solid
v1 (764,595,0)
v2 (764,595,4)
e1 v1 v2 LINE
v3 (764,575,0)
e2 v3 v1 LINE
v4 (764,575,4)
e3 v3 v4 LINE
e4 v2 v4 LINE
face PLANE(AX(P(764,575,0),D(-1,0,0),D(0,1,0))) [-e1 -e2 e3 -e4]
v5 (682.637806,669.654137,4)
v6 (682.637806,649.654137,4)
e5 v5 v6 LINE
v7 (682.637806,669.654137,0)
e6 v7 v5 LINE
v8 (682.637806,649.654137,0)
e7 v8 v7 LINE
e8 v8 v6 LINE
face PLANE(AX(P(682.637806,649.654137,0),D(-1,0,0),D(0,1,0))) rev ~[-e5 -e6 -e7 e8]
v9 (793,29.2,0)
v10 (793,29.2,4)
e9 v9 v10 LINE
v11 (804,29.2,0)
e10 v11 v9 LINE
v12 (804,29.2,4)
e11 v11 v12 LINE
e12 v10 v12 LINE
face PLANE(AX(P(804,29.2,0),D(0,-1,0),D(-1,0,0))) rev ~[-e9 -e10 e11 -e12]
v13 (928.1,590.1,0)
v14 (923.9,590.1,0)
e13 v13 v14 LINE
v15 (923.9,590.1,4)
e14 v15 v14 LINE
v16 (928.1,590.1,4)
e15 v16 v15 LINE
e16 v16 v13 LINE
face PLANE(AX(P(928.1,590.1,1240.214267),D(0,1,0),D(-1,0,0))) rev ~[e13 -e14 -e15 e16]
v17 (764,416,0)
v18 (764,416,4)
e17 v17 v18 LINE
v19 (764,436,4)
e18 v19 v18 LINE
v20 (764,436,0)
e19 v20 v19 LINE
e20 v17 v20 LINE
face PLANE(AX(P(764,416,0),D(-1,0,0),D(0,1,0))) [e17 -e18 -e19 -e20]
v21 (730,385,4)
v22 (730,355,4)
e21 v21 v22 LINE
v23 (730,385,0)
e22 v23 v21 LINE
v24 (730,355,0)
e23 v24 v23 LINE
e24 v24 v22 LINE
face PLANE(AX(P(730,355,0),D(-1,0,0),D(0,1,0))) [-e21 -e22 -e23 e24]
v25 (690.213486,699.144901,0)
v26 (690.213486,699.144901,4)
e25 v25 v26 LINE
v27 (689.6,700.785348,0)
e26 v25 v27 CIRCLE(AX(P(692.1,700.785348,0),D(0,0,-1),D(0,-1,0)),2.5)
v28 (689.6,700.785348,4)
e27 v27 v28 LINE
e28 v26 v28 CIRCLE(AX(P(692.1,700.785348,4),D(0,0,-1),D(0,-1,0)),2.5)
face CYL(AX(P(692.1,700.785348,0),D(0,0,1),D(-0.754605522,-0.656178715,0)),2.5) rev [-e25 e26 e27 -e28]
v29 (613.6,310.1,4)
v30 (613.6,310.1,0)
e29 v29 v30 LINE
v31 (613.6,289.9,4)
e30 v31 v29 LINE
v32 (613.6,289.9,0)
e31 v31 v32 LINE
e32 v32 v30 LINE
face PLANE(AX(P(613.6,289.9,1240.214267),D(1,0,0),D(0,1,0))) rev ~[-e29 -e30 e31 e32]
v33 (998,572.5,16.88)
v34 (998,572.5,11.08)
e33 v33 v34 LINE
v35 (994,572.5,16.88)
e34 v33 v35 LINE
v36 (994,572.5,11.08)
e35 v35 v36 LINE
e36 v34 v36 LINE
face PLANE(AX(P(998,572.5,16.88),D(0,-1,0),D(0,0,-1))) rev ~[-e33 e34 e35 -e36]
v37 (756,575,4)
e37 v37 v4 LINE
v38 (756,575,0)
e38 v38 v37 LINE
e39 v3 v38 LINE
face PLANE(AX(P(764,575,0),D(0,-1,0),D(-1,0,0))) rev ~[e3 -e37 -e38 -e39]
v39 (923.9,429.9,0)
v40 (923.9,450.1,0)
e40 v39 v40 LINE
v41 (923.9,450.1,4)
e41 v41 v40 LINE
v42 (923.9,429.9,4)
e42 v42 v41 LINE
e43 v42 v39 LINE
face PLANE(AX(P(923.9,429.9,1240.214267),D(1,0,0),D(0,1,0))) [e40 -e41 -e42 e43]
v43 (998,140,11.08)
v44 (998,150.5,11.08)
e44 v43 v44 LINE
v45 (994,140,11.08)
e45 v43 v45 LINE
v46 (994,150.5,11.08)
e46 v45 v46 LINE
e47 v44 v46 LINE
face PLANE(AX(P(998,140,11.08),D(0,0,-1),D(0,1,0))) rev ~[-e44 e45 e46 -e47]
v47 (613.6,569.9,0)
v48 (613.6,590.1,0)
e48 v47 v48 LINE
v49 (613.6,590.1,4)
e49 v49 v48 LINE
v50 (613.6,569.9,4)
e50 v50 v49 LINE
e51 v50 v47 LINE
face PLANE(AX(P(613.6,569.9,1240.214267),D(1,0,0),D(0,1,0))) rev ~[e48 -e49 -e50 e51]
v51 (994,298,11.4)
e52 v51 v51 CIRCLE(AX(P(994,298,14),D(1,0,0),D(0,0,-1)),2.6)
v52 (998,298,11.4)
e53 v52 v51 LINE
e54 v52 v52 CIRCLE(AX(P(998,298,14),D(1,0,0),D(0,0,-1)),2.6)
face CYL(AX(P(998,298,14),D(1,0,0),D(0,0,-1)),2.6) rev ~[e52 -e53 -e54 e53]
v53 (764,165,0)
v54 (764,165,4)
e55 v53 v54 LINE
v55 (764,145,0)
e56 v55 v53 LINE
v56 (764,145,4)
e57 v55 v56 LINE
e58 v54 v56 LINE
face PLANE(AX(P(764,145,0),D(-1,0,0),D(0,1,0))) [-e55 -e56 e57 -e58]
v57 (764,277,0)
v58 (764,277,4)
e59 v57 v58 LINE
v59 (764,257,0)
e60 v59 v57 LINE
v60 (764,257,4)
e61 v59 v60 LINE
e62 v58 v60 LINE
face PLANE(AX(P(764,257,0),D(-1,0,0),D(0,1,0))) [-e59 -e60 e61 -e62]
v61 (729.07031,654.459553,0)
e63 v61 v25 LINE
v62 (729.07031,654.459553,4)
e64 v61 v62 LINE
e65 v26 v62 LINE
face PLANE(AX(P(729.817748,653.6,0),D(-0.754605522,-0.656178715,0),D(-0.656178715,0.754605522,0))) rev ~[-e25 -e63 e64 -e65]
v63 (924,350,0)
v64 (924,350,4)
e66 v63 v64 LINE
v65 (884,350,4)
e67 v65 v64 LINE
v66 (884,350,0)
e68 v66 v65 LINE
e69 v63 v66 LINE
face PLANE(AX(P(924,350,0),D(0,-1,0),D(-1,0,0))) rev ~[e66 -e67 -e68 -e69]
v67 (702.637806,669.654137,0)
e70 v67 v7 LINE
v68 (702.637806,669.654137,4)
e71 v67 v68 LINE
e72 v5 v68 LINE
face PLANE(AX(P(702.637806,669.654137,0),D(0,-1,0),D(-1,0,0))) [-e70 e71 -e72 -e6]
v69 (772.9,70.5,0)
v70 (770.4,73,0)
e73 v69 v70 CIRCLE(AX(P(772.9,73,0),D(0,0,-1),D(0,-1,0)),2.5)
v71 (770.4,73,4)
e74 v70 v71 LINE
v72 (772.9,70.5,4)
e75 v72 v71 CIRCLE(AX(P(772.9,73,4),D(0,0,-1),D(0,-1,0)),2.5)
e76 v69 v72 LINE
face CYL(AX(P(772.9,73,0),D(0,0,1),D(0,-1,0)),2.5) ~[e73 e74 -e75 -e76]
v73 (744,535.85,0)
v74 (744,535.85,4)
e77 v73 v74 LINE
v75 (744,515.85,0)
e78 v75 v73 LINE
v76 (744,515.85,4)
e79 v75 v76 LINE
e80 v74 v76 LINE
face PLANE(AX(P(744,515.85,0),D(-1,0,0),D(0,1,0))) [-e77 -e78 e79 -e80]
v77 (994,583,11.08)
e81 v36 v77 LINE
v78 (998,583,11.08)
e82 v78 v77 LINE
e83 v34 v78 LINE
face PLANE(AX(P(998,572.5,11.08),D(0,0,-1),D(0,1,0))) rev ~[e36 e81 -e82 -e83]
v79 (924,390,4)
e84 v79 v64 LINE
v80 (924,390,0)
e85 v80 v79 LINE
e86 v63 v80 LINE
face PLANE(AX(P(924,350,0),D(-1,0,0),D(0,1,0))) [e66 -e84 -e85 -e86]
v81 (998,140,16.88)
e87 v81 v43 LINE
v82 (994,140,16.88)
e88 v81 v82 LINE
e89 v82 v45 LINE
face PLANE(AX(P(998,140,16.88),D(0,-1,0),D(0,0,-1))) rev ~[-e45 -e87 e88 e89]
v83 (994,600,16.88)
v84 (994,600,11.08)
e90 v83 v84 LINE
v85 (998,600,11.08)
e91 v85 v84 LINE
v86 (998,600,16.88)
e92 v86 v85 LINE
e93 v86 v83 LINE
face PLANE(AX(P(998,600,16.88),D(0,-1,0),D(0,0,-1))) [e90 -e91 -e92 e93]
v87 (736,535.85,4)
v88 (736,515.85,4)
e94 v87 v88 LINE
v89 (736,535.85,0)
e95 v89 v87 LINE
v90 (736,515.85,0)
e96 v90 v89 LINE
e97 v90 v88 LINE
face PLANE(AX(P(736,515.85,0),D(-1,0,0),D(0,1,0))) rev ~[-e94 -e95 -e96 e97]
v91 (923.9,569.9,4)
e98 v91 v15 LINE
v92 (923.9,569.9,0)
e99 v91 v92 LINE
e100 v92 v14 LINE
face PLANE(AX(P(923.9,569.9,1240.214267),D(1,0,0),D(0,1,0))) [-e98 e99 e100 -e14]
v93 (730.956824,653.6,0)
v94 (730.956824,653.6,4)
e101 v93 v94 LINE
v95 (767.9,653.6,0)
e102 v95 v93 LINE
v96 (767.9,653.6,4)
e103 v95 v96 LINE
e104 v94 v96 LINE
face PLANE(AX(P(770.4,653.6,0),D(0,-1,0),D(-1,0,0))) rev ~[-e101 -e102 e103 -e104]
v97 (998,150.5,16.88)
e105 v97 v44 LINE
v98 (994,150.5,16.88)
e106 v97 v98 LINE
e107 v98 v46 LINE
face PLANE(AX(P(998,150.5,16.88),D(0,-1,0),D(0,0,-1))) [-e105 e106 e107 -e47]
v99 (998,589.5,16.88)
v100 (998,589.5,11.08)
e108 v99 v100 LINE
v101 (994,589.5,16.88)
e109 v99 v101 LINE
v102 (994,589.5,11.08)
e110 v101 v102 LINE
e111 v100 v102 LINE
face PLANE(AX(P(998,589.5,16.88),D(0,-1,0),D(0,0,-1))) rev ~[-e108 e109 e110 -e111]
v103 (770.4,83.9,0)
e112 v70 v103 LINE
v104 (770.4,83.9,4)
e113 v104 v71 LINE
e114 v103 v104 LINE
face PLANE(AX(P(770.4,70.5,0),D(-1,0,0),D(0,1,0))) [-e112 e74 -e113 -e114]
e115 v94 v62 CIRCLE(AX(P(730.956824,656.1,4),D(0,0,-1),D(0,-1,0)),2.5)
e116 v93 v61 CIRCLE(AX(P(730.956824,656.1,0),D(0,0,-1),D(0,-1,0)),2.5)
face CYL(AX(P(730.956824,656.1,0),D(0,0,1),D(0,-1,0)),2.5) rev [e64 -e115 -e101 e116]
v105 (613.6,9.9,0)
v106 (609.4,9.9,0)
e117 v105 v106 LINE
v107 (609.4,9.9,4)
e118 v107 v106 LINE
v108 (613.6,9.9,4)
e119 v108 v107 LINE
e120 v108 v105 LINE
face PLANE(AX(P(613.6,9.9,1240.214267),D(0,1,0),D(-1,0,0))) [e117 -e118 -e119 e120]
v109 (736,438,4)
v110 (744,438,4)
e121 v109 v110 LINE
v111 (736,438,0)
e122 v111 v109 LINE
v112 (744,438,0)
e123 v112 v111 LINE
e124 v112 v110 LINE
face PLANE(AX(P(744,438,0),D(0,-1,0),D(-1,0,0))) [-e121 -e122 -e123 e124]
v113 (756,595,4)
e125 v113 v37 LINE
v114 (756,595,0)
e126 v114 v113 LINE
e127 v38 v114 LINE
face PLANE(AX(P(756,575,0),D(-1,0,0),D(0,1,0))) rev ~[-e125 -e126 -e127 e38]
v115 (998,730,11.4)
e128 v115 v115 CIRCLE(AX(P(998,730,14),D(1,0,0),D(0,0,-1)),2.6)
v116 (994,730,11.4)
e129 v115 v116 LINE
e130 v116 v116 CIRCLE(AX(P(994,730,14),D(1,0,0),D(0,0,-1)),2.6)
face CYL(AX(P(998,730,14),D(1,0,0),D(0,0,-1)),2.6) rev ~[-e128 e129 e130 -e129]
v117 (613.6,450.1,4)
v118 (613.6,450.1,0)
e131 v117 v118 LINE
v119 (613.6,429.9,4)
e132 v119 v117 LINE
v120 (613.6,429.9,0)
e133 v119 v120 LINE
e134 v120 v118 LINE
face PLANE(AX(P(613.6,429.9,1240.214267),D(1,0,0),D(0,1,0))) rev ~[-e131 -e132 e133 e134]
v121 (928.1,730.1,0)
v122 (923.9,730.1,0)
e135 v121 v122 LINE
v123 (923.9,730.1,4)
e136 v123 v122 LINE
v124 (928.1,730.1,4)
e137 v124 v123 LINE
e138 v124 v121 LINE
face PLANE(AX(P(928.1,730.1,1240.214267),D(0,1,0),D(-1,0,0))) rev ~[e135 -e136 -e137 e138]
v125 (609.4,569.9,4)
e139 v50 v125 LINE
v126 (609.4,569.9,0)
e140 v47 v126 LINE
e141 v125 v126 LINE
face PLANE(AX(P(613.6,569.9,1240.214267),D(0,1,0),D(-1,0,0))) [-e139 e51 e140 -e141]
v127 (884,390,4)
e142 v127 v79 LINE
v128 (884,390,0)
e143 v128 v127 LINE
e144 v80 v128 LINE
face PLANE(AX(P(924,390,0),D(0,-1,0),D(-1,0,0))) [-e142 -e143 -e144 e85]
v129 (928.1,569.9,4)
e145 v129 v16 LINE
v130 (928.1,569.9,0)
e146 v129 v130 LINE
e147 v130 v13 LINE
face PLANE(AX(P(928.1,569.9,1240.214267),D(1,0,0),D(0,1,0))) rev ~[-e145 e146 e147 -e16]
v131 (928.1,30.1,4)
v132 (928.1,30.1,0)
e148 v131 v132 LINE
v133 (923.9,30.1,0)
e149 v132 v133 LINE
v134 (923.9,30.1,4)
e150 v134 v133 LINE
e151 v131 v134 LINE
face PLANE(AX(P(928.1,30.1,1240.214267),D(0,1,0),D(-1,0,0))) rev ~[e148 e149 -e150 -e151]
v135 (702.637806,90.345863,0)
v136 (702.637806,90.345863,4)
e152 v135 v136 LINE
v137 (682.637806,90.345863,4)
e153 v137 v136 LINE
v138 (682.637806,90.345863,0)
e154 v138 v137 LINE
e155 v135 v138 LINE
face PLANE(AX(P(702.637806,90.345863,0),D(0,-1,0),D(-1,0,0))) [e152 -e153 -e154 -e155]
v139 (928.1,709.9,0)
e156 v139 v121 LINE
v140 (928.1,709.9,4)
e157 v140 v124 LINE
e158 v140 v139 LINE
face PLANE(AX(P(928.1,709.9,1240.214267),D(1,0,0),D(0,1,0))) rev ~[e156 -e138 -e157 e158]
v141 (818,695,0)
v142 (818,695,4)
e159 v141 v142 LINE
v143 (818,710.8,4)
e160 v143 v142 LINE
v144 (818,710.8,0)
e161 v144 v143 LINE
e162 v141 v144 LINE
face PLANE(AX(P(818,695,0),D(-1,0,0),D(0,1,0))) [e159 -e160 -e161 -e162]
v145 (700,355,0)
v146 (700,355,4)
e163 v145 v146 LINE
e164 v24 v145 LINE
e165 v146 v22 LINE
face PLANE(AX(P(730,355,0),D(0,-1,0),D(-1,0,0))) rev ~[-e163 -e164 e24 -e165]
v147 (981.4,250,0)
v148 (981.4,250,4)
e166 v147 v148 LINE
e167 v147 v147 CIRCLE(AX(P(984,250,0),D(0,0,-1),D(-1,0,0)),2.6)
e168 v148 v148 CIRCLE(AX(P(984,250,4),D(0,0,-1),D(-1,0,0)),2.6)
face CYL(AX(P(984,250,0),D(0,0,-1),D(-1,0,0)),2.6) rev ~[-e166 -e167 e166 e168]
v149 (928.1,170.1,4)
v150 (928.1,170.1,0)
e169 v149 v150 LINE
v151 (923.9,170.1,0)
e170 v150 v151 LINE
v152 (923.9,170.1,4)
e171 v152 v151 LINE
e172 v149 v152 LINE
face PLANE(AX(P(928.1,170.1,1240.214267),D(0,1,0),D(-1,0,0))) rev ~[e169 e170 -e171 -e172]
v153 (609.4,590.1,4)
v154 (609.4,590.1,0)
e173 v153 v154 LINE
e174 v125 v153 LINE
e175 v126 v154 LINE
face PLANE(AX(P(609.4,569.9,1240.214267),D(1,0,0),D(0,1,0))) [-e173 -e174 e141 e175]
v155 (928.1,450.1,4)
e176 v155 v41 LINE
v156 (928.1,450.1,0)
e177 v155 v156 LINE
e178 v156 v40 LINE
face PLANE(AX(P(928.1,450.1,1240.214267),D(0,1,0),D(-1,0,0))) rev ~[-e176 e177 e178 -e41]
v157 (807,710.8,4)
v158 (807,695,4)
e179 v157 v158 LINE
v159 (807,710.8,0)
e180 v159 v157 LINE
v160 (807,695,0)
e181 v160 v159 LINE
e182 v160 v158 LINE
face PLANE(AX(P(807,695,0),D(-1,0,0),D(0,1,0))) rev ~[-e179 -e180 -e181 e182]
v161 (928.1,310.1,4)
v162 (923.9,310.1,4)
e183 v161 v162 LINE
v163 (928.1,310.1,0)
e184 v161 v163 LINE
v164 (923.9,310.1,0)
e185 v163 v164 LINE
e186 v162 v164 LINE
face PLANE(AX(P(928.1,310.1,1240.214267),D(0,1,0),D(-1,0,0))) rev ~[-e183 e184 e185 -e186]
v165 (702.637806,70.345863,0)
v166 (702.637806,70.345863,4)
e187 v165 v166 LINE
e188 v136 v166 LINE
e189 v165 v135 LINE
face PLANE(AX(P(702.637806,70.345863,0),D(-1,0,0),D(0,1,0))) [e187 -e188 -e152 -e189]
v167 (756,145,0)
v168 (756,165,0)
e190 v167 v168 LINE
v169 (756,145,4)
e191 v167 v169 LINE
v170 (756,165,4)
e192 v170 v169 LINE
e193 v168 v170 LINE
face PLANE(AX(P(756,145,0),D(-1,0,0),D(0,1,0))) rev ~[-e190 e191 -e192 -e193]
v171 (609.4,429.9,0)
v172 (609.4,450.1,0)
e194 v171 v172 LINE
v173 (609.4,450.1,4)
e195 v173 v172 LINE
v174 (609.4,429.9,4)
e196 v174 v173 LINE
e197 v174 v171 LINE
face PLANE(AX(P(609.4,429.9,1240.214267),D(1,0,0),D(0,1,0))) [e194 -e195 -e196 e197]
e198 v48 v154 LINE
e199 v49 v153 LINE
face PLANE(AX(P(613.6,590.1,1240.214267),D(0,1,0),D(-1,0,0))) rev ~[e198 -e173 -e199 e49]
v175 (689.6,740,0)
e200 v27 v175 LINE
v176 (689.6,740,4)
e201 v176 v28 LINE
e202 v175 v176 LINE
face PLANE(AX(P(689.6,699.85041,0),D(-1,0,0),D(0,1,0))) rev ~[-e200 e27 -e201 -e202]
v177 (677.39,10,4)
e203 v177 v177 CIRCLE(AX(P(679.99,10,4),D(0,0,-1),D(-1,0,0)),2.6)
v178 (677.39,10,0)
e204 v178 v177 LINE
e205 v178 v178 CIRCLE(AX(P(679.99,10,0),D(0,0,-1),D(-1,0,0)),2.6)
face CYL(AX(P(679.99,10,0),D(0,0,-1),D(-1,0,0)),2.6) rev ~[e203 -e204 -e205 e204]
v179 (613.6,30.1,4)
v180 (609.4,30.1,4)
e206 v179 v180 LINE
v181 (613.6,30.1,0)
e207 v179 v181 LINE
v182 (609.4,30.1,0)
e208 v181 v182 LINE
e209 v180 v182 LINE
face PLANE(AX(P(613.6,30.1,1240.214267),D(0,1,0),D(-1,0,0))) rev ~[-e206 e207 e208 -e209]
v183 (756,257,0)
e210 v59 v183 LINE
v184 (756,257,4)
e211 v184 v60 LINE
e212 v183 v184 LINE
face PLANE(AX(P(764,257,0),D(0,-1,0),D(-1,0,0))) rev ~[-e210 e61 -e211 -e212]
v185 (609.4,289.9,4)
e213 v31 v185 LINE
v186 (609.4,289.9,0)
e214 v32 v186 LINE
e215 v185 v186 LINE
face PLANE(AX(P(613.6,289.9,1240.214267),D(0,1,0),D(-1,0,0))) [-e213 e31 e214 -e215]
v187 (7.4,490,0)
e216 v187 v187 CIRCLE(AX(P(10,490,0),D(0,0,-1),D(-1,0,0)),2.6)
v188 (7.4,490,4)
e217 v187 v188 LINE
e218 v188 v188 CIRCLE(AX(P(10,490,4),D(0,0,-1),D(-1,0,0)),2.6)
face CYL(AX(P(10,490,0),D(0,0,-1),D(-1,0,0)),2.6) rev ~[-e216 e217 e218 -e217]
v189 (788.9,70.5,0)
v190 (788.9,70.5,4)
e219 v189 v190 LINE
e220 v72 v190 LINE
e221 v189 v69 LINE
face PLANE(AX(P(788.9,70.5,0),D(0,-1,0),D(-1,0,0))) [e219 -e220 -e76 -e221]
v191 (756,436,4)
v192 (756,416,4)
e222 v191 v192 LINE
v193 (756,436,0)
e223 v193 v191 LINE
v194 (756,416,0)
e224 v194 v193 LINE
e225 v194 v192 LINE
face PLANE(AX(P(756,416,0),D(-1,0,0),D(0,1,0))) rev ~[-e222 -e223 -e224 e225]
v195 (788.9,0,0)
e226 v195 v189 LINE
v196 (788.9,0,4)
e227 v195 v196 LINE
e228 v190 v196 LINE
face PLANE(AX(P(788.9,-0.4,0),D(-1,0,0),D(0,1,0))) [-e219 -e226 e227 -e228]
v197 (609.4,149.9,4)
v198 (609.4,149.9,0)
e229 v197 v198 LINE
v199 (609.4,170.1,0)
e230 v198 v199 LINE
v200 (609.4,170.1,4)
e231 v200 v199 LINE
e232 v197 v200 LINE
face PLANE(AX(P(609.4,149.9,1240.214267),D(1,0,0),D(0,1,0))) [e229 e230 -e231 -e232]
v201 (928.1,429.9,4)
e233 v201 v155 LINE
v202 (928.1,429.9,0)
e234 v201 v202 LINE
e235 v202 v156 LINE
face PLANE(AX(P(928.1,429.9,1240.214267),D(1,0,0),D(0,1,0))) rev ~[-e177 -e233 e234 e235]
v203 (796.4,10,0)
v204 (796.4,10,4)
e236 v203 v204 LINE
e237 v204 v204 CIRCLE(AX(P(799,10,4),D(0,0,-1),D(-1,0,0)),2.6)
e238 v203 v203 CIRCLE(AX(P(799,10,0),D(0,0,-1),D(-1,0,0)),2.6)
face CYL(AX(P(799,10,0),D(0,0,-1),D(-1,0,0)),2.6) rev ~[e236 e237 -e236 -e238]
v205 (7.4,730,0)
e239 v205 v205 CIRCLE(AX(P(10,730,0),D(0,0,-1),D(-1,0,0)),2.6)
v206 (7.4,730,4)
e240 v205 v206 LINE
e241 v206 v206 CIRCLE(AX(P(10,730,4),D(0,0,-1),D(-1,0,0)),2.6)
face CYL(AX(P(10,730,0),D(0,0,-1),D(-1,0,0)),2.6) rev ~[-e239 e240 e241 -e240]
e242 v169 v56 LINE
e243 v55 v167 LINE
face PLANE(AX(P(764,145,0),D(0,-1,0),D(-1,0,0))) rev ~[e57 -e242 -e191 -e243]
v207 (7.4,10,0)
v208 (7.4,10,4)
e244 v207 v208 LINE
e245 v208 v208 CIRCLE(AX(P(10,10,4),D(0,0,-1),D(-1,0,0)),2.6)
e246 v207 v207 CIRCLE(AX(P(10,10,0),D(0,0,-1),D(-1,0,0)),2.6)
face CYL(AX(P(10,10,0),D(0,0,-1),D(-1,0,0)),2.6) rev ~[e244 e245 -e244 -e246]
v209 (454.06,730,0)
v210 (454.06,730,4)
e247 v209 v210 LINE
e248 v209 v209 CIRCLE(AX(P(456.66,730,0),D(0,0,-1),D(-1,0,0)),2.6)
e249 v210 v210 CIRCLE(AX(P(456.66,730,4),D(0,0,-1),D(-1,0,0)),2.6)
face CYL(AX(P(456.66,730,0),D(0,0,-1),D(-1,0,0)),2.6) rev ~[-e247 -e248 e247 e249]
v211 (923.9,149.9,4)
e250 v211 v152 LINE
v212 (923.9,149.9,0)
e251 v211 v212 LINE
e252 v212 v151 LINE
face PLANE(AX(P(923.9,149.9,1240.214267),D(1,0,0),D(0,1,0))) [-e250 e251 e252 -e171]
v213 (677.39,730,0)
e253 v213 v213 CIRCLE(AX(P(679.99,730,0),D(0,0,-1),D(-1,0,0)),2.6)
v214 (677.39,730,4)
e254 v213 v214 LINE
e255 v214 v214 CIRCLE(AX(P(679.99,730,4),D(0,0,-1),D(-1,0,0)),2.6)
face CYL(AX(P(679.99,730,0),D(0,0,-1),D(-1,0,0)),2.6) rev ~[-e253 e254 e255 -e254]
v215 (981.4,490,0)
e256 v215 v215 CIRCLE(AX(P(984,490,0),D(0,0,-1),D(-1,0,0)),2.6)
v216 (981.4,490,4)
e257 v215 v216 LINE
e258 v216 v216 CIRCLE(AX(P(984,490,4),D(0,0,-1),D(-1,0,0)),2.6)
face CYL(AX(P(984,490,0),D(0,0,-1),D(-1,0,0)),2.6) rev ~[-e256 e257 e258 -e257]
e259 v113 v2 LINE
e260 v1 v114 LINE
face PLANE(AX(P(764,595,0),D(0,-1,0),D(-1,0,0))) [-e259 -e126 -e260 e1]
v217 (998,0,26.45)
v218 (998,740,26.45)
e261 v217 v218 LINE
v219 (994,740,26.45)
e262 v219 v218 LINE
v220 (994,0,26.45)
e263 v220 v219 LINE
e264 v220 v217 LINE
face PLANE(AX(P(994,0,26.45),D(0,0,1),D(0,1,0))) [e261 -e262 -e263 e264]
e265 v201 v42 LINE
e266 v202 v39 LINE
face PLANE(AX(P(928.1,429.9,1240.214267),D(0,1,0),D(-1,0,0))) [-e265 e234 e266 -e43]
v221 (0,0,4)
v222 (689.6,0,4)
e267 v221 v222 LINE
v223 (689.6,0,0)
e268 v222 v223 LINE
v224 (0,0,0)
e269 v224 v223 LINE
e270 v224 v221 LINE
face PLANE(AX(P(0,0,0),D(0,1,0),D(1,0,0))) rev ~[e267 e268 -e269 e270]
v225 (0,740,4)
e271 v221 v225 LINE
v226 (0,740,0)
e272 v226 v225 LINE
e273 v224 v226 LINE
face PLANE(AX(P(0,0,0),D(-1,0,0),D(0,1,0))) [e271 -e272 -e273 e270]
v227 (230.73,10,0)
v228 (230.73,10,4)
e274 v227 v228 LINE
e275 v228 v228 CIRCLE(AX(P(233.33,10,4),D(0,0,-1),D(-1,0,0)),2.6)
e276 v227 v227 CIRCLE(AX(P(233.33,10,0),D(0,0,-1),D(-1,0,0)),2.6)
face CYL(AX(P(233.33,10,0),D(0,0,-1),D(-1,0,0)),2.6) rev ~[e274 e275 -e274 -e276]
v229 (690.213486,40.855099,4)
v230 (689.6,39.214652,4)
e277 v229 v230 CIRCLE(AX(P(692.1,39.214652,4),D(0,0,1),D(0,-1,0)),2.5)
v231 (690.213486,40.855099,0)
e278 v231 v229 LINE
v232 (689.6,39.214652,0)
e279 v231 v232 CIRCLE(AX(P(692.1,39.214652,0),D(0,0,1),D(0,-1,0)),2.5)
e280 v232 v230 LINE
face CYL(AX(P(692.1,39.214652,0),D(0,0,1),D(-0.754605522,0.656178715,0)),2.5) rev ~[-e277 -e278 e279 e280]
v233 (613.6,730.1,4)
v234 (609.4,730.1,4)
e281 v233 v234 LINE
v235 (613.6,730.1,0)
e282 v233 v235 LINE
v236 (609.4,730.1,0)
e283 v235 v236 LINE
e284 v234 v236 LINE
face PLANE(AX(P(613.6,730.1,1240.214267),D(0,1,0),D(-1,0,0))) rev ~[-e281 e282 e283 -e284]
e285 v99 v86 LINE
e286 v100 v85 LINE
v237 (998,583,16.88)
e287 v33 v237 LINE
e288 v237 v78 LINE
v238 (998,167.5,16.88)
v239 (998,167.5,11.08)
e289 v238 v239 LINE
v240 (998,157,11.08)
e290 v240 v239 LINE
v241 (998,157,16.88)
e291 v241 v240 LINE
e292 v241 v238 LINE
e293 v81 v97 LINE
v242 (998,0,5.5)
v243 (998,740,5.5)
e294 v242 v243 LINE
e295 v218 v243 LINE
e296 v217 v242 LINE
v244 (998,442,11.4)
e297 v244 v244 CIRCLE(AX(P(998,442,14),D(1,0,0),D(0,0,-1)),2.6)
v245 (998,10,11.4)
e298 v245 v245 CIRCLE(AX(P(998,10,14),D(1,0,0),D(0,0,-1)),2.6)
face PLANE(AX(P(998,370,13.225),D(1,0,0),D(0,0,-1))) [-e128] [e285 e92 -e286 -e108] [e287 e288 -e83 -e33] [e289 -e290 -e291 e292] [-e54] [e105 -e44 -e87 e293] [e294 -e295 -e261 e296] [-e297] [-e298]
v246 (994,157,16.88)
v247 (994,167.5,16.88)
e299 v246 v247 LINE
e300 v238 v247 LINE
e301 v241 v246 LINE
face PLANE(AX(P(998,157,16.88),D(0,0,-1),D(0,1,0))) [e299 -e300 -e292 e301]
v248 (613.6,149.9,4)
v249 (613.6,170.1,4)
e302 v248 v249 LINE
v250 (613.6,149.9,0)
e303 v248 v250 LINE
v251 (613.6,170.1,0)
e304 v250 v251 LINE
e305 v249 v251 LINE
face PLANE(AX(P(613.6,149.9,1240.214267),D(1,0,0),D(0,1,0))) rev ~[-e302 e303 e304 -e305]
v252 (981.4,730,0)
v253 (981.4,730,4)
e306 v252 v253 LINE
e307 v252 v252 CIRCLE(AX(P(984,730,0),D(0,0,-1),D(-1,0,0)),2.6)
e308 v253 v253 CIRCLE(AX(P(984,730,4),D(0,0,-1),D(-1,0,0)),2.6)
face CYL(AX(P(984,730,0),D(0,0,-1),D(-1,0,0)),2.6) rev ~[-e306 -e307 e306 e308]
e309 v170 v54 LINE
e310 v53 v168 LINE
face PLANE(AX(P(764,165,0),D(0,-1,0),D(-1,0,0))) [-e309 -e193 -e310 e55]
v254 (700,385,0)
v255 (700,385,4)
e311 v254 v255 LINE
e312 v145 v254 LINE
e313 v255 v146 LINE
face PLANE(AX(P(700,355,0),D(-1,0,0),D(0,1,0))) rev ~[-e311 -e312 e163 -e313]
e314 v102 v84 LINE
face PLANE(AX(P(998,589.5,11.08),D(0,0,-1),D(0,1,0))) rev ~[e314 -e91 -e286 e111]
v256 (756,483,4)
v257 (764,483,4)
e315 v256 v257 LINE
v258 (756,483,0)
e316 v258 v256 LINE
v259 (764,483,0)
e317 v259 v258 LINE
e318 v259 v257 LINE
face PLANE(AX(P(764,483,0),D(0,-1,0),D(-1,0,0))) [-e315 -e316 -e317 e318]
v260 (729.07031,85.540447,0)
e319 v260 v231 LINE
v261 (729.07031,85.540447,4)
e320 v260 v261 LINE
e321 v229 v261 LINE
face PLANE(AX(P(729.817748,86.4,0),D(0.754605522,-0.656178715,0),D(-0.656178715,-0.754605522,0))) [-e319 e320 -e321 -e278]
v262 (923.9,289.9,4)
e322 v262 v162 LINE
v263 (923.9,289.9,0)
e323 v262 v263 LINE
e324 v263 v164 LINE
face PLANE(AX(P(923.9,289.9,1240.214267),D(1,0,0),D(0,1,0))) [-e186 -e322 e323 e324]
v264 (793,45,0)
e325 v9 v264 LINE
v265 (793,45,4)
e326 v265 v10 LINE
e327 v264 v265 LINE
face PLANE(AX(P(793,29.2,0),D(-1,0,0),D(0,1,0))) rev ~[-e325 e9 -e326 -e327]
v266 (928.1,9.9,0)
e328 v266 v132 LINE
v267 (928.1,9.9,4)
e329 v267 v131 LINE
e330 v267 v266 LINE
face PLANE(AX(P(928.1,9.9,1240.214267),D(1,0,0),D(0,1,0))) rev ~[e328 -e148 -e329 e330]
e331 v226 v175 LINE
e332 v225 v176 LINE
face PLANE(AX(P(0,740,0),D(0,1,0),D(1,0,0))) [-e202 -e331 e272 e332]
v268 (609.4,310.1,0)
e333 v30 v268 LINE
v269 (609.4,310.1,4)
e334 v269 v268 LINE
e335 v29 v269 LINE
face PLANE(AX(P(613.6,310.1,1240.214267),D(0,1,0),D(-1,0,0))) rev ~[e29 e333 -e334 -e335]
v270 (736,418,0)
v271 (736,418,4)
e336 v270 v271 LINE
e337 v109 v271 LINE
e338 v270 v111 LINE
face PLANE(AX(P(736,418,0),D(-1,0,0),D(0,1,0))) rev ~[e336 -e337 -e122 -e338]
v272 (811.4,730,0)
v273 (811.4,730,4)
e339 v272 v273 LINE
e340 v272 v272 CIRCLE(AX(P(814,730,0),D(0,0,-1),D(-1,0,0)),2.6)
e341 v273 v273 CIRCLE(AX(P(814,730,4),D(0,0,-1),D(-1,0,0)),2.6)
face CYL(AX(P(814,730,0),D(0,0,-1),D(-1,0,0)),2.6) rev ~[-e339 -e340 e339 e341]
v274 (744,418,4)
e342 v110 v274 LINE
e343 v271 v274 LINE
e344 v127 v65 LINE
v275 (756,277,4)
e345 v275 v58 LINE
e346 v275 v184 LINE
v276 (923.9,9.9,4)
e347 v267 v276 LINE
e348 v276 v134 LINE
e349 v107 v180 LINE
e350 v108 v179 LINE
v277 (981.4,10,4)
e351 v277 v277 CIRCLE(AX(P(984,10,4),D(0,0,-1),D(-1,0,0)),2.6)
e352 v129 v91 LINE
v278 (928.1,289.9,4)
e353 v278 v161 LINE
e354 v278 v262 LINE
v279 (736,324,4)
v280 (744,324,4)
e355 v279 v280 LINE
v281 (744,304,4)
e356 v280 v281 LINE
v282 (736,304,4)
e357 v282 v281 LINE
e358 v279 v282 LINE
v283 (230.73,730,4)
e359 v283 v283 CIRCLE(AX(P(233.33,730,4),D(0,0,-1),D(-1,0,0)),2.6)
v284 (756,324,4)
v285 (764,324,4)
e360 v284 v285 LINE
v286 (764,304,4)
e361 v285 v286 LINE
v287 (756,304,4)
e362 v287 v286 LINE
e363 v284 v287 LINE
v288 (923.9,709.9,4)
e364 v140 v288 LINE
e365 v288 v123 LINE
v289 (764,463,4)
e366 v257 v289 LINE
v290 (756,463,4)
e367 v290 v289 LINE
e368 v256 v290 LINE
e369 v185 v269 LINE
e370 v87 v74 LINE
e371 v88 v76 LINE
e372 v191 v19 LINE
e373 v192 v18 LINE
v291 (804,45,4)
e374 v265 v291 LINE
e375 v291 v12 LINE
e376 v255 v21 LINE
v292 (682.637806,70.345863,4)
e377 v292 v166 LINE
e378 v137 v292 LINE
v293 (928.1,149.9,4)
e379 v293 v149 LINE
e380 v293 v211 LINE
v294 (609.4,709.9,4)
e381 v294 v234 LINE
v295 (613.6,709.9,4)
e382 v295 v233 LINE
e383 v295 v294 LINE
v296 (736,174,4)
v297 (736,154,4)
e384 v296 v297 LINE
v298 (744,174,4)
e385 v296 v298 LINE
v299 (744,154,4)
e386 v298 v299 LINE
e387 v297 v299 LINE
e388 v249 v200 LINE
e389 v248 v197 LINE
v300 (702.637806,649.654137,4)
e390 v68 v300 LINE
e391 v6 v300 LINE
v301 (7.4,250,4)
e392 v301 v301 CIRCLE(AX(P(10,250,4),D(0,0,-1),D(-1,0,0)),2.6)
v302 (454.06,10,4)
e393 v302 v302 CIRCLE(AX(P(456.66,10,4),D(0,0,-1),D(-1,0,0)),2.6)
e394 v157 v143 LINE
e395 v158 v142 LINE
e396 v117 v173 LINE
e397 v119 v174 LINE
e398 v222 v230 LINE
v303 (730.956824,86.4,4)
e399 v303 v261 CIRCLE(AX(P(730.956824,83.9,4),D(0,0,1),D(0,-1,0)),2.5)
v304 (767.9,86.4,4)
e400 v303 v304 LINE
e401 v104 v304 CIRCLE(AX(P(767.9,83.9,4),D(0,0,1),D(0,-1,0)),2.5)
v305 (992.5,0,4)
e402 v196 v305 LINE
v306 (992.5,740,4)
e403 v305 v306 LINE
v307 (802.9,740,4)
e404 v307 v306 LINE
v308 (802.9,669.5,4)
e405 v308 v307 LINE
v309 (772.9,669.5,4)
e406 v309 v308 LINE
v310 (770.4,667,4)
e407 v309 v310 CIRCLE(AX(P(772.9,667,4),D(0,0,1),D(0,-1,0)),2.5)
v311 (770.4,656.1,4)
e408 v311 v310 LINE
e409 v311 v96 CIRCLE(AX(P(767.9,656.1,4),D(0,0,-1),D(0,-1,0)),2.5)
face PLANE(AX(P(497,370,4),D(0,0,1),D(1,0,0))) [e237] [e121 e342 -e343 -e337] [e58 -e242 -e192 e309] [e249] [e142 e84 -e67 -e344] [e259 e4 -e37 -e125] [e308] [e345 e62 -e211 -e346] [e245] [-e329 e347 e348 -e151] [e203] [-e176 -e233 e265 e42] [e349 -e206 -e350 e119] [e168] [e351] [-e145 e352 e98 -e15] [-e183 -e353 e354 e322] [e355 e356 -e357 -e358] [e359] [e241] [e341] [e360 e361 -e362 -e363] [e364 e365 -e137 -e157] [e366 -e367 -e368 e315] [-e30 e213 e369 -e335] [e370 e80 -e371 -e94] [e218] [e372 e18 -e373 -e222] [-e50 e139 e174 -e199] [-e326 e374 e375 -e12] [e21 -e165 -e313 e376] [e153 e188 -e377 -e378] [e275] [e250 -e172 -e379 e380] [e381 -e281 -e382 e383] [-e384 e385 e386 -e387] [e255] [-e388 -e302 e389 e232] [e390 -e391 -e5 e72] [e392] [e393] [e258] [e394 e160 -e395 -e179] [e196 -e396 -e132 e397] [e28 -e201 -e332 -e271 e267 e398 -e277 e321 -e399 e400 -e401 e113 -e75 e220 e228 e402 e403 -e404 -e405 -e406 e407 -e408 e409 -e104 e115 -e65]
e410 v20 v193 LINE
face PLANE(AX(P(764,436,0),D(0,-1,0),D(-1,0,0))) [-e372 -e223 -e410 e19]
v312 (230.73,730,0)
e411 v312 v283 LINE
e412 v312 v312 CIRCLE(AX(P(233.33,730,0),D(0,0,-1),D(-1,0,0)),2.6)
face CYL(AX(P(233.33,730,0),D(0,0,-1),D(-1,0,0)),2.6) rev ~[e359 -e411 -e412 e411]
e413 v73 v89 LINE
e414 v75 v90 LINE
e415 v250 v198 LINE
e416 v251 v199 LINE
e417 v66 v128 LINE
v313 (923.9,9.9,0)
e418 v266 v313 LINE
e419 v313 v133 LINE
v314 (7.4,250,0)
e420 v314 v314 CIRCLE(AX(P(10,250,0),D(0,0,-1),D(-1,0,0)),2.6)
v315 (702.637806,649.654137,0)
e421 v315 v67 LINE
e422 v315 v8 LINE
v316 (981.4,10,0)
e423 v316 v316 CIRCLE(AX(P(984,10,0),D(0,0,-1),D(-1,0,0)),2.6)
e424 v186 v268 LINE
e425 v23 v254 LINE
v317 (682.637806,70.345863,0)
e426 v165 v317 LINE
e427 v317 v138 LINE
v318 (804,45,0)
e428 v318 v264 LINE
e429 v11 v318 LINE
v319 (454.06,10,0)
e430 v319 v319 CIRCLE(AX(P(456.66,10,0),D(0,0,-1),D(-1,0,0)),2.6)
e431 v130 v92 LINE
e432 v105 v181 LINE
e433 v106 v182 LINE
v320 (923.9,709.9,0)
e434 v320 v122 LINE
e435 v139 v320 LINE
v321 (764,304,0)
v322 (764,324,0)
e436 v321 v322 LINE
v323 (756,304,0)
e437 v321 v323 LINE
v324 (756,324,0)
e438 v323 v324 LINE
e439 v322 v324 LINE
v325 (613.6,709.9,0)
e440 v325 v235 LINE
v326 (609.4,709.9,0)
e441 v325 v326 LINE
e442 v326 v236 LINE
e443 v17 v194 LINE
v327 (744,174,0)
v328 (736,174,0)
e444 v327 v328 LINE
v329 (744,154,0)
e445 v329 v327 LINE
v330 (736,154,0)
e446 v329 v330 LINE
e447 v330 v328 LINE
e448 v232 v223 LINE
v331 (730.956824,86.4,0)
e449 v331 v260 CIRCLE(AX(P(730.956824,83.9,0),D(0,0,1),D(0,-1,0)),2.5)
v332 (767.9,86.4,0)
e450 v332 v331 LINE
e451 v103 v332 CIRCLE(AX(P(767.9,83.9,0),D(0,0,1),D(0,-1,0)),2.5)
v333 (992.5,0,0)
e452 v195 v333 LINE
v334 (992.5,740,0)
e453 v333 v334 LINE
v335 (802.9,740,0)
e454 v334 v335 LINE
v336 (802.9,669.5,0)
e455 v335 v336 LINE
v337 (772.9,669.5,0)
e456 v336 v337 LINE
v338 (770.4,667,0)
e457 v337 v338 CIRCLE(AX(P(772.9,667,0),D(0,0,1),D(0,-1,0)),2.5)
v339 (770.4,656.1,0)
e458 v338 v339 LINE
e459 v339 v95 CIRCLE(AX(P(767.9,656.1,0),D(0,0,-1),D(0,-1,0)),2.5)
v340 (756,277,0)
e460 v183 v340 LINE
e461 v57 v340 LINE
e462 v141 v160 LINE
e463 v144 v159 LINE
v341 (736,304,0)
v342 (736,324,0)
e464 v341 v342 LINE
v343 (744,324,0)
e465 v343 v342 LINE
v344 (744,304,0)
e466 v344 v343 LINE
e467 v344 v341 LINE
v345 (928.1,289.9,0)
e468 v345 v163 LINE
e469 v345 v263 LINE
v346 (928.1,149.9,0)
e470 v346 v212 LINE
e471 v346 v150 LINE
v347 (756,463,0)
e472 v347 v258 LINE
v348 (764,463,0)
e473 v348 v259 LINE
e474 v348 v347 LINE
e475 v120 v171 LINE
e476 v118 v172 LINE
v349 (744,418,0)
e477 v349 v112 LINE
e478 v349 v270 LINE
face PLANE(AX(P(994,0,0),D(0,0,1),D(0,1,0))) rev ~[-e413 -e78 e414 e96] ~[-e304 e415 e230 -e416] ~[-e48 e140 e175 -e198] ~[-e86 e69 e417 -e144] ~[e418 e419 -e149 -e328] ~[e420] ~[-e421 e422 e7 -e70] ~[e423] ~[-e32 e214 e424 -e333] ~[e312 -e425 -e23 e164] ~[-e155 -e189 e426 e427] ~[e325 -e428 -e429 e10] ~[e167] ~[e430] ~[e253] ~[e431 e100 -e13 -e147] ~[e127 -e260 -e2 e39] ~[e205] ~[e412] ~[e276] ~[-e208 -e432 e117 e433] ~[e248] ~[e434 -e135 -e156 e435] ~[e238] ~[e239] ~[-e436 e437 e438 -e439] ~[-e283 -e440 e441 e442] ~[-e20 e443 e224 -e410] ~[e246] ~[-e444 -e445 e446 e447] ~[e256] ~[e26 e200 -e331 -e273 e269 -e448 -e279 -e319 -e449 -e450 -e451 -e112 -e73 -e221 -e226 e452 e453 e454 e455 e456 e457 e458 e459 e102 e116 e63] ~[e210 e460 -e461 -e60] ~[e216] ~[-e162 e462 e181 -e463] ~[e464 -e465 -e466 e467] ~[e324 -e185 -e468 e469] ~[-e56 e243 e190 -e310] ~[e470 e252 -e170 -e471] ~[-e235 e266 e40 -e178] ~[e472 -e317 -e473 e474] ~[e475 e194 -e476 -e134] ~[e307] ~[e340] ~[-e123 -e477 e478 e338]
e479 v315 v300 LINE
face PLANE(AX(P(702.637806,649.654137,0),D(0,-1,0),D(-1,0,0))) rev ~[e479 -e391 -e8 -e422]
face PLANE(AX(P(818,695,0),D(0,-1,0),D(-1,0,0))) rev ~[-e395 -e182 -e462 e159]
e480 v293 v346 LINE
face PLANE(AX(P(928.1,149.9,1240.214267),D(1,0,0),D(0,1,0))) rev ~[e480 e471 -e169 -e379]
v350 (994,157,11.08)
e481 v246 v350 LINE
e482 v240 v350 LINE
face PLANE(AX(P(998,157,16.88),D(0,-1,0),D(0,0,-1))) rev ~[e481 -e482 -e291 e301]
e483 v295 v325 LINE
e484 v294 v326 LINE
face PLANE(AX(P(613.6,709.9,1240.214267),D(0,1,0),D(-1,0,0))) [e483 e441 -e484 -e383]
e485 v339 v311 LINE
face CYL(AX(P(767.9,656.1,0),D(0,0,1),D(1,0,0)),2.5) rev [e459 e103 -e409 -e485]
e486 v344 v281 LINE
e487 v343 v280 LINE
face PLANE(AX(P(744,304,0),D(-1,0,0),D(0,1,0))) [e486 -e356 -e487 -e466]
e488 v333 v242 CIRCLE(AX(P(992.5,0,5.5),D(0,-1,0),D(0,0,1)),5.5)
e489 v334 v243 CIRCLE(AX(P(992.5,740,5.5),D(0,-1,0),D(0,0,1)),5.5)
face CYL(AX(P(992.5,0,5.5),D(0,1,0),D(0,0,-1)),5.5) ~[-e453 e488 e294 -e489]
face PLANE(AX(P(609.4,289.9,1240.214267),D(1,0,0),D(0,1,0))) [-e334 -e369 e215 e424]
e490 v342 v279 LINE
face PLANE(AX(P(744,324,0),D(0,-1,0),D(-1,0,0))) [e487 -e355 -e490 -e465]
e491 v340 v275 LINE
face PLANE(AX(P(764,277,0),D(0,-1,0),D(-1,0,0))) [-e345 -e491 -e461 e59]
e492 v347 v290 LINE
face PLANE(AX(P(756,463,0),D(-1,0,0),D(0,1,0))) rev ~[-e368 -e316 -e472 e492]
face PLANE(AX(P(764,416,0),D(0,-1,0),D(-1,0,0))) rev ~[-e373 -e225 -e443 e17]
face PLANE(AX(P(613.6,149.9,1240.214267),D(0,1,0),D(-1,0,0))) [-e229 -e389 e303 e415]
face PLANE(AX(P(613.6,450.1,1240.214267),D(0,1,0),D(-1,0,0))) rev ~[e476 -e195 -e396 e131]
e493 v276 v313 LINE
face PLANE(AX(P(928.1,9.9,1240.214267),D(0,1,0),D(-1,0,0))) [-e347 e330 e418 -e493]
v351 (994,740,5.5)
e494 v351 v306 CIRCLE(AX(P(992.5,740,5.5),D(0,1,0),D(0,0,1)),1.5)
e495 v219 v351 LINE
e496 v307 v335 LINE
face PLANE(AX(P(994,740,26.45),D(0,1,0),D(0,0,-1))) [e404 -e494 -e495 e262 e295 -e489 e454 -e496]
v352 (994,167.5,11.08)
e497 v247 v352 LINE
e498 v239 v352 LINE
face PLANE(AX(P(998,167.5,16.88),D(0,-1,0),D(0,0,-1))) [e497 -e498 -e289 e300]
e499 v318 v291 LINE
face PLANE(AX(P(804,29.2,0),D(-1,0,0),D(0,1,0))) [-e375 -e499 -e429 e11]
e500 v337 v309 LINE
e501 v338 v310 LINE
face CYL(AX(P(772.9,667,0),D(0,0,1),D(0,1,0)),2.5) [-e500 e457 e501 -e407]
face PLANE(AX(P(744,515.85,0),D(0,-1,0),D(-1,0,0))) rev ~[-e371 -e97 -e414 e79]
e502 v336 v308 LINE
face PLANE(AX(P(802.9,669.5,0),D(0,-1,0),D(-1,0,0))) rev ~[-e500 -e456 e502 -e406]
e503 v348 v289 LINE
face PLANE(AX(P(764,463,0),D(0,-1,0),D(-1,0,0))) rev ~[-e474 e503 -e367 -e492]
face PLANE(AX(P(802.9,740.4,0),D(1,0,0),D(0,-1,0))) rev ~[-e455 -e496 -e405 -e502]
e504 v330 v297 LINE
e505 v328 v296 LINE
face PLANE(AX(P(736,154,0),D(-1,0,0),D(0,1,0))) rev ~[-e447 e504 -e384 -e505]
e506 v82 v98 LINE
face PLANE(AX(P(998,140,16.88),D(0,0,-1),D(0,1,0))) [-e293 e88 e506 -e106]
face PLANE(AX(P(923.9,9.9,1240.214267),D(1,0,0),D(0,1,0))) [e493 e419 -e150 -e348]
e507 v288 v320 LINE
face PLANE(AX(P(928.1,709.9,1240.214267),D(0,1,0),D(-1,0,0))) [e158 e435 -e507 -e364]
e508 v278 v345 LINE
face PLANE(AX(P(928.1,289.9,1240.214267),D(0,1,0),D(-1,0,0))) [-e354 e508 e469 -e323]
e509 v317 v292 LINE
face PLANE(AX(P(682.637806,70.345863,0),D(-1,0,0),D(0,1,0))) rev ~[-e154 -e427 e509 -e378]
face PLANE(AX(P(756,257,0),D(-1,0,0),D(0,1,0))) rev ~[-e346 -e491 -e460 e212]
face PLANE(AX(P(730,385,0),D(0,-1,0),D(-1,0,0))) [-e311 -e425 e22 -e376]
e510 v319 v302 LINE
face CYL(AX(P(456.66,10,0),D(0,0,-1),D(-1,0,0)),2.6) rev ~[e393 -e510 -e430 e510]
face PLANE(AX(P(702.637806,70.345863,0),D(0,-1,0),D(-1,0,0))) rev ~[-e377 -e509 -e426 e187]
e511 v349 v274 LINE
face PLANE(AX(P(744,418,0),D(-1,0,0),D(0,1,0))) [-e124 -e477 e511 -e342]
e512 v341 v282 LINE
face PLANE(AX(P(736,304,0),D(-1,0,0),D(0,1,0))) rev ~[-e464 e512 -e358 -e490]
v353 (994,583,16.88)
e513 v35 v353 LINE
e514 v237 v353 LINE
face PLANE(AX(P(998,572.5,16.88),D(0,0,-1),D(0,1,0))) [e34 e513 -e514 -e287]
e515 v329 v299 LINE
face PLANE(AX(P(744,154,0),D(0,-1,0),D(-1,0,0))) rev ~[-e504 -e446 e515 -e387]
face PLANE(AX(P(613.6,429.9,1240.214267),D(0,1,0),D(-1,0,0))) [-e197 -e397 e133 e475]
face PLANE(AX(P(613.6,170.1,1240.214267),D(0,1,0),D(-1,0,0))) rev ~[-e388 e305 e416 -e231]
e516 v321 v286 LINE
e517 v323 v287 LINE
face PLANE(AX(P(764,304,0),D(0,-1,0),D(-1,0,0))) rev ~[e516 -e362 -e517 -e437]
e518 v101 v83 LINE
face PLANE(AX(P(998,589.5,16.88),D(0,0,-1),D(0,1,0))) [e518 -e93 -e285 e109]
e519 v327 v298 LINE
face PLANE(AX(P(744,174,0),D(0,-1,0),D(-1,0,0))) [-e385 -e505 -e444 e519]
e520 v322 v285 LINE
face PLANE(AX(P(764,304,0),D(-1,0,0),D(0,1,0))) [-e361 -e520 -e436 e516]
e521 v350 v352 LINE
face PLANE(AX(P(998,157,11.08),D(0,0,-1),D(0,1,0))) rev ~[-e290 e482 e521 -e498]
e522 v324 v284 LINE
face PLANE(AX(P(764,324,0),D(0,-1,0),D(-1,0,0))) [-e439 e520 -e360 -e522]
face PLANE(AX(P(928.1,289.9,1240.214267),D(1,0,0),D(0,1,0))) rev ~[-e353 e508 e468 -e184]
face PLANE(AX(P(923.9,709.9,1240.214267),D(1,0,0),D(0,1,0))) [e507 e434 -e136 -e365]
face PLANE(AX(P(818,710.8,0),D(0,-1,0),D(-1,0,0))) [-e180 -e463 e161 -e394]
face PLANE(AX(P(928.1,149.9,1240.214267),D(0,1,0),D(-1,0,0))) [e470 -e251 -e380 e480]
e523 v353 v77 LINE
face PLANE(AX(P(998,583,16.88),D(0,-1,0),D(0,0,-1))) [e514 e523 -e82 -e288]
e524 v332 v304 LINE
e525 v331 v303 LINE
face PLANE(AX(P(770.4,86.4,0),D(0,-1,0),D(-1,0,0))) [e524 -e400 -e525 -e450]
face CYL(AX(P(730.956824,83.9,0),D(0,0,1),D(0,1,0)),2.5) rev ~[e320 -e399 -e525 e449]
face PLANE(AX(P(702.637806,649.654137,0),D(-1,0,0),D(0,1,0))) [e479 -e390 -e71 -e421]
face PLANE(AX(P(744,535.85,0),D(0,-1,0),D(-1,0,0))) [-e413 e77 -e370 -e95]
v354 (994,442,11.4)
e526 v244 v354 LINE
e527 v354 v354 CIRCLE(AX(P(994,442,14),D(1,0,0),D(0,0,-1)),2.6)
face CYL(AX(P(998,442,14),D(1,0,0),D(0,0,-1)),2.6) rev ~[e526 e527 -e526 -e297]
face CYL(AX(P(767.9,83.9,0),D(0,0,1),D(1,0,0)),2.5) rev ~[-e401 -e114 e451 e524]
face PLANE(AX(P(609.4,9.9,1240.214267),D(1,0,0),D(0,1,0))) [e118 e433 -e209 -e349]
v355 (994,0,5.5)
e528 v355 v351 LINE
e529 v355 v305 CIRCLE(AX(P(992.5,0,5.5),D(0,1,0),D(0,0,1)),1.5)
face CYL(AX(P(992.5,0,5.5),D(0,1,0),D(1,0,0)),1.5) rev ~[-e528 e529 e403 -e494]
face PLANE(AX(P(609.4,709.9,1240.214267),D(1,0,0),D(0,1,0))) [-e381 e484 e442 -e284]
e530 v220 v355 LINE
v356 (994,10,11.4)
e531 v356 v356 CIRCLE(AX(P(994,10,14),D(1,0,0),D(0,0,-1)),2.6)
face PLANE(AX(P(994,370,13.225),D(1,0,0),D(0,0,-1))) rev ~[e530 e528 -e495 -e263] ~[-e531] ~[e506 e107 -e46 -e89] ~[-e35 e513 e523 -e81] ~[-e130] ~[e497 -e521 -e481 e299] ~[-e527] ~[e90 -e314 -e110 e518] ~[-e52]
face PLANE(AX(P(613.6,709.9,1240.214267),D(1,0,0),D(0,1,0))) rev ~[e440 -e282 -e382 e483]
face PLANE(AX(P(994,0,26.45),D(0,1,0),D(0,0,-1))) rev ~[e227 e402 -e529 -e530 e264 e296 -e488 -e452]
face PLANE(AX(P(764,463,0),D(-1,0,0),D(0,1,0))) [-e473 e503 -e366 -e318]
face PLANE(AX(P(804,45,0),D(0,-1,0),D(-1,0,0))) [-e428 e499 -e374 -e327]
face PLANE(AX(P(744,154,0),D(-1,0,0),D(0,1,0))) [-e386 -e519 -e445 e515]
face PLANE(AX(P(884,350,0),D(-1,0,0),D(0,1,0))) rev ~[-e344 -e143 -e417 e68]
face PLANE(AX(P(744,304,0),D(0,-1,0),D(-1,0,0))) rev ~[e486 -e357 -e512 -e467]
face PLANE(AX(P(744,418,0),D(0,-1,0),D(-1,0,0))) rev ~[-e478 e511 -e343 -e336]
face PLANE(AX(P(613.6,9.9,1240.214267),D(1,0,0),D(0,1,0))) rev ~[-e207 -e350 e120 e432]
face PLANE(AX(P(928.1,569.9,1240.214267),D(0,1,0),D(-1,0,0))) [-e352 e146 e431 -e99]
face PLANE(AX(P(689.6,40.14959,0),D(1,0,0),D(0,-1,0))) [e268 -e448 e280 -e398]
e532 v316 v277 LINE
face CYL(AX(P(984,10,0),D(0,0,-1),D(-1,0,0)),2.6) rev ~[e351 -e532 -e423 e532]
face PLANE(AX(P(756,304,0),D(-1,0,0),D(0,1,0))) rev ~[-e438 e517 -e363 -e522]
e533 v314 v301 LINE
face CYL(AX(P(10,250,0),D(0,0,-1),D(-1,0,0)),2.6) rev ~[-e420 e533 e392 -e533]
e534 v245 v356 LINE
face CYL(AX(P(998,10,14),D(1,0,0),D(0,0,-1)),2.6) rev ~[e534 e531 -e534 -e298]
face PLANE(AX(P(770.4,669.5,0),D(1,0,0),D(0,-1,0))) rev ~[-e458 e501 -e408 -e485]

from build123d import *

# Parameters (mm, degrees)
SKETCH_1_W               = 994
SKETCH_1_H               = 740
EXTRUDE_1_DEPTH          = 4
CUT_EXTRUDE_3_DEPTH      = 1240.214267187
SKETCH_10_W              = 20
SKETCH_10_H              = 20
SKETCH_10_W_2            = 40
SKETCH_10_H_2            = 40
SKETCH_10_W_3            = 30
SKETCH_10_H_3            = 30
CUT_EXTRUDE_4_DEPTH      = 1240.214267187
SKETCH_11_W              = 11
SKETCH_11_H              = 15.8
CUT_EXTRUDE_5_DEPTH      = 1240.214267187
SKETCH_2_R               = 2.6
CUT_EXTRUDE_1_DEPTH      = 1240.214267187
SKETCH_12_W              = 8
SKETCH_12_H              = 20
CUT_EXTRUDE_6_DEPTH      = 1240.214267187
CUT_EXTRUDE_7_DEPTH      = 1240.214267187
CUT_EXTRUDE_7_DEPTH_BACK = 1240.214267187
SKETCH_13_W              = 4.2
SKETCH_13_H              = 20.2
SKETCH_6_W               = 26.45
SKETCH_6_H               = 740
EXTRUDE_2_DEPTH          = 4
SKETCH_8_W               = 5.8
SKETCH_8_H               = 10.5
CUT_EXTRUDE_2_DEPTH      = 1243.700125734
SKETCH_14_R              = 2.6
CUT_EXTRUDE_8_DEPTH      = 1243.700125734
FILLET_1_R               = 1.5
FILLET_2_R               = 5.5
FILLET_4_R               = 2.5


with BuildPart() as part:
    # Эскиз1 → Бобышка-Вытянуть1 (new body)
    with BuildSketch(Plane.XY):
        with Locations((497, 370)):
            Rectangle(SKETCH_1_W, SKETCH_1_H)
    extrude(amount=EXTRUDE_1_DEPTH)

    # Эскиз9 → Вырез-Вытянуть3 (cut, through all)
    with BuildSketch(Plane(origin=(0, 0, 0), x_dir=(-1, 0, 0), z_dir=(0, 0, -1))):
        Polygon((-689.6, -0.4), (-788.9, -0.4), (-788.9, 70.5), (-770.4, 70.5), (-770.4, 86.4), (-729.817747803, 86.4), (-689.6, 40.149590026), align=None)
        Polygon((-689.6, 740.4), (-802.9, 740.4), (-802.9, 669.5), (-770.4, 669.5), (-770.4, 653.6), (-729.817747803, 653.6), (-689.6, 699.850409974), align=None)
    extrude(amount=-CUT_EXTRUDE_3_DEPTH, mode=Mode.SUBTRACT)

    # Эскиз10 → Вырез-Вытянуть4 (cut, through all)
    with BuildSketch(Plane(origin=(0, 0, 0), x_dir=(-1, 0, 0), z_dir=(0, 0, -1))):
        with Locations((-692.63780609, 80.345862825)):
            Rectangle(SKETCH_10_W, SKETCH_10_H)
        with Locations((-904, 370)):
            Rectangle(SKETCH_10_W_2, SKETCH_10_H_2)
        with Locations((-692.63780609, 659.654137175)):
            Rectangle(SKETCH_10_W, SKETCH_10_H)
        with Locations((-715, 370)):
            Rectangle(SKETCH_10_W_3, SKETCH_10_H_3)
    extrude(amount=-CUT_EXTRUDE_4_DEPTH, mode=Mode.SUBTRACT)

    # Эскиз11 → Вырез-Вытянуть5 (cut, through all)
    with BuildSketch(Plane(origin=(0, 0, 0), x_dir=(-1, 0, 0), z_dir=(0, 0, -1))):
        with Locations((-798.5, 37.1)):
            Rectangle(SKETCH_11_W, SKETCH_11_H)
        with Locations((-812.5, 702.9)):
            Rectangle(SKETCH_11_W, SKETCH_11_H)
    extrude(amount=-CUT_EXTRUDE_5_DEPTH, mode=Mode.SUBTRACT)

    # Эскиз2 → Вырез-Вытянуть1 (cut, through all)
    with BuildSketch(Plane(origin=(0, 0, 0), x_dir=(-1, 0, 0), z_dir=(0, 0, -1))):
        with Locations((-10, 10)):
            Circle(SKETCH_2_R)
        with Locations((-10, 250)):
            Circle(SKETCH_2_R)
        with Locations((-10, 490)):
            Circle(SKETCH_2_R)
        with Locations((-10, 730)):
            Circle(SKETCH_2_R)
        with Locations((-984, 10)):
            Circle(SKETCH_2_R)
        with Locations((-984, 250)):
            Circle(SKETCH_2_R)
        with Locations((-984, 490)):
            Circle(SKETCH_2_R)
        with Locations((-984, 730)):
            Circle(SKETCH_2_R)
        with Locations((-233.33, 10)):
            Circle(SKETCH_2_R)
        with Locations((-233.33, 730)):
            Circle(SKETCH_2_R)
        with Locations((-456.66, 10)):
            Circle(SKETCH_2_R)
        with Locations((-456.66, 730)):
            Circle(SKETCH_2_R)
        with Locations((-679.99, 10)):
            Circle(SKETCH_2_R)
        with Locations((-679.99, 730)):
            Circle(SKETCH_2_R)
        with Locations((-799, 10)):
            Circle(SKETCH_2_R)
        with Locations((-814, 730)):
            Circle(SKETCH_2_R)
    extrude(amount=-CUT_EXTRUDE_1_DEPTH, mode=Mode.SUBTRACT)

    # Эскиз12 → Вырез-Вытянуть6 (cut, through all)
    with BuildSketch(Plane(origin=(0, 0, 0), x_dir=(-1, 0, 0), z_dir=(0, 0, -1))):
        with Locations((-760, 314)):
            Rectangle(SKETCH_12_W, SKETCH_12_H)
        with Locations((-740, 314)):
            Rectangle(SKETCH_12_W, SKETCH_12_H)
        with Locations((-760, 267)):
            Rectangle(SKETCH_12_W, SKETCH_12_H)
        with Locations((-760, 155)):
            Rectangle(SKETCH_12_W, SKETCH_12_H)
        with Locations((-760, 426)):
            Rectangle(SKETCH_12_W, SKETCH_12_H)
        with Locations((-760, 473)):
            Rectangle(SKETCH_12_W, SKETCH_12_H)
        with Locations((-760, 585)):
            Rectangle(SKETCH_12_W, SKETCH_12_H)
        with Locations((-740, 164)):
            Rectangle(SKETCH_12_W, SKETCH_12_H)
        with Locations((-740, 428)):
            Rectangle(SKETCH_12_W, SKETCH_12_H)
        with Locations((-740, 525.85)):
            Rectangle(SKETCH_12_W, SKETCH_12_H)
    extrude(amount=-CUT_EXTRUDE_6_DEPTH, mode=Mode.SUBTRACT)

    # Эскиз13 → Вырез-Вытянуть7 (cut, two sides: drawn at the far end of the back side and taken through both)
    with BuildSketch(Plane(origin=(0, 0, 0), x_dir=(-1, 0, 0), z_dir=(0, 0, -1)).offset(-CUT_EXTRUDE_7_DEPTH_BACK)):
        with Locations((-611.5, 20)):
            Rectangle(SKETCH_13_W, SKETCH_13_H)
        with Locations((-926, 20)):
            Rectangle(SKETCH_13_W, SKETCH_13_H)
        with Locations((-611.5, 160)):
            Rectangle(SKETCH_13_W, SKETCH_13_H)
        with Locations((-611.5, 300)):
            Rectangle(SKETCH_13_W, SKETCH_13_H)
        with Locations((-611.5, 440)):
            Rectangle(SKETCH_13_W, SKETCH_13_H)
        with Locations((-611.5, 580)):
            Rectangle(SKETCH_13_W, SKETCH_13_H)
        with Locations((-611.5, 720)):
            Rectangle(SKETCH_13_W, SKETCH_13_H)
        with Locations((-926, 160)):
            Rectangle(SKETCH_13_W, SKETCH_13_H)
        with Locations((-926, 300)):
            Rectangle(SKETCH_13_W, SKETCH_13_H)
        with Locations((-926, 440)):
            Rectangle(SKETCH_13_W, SKETCH_13_H)
        with Locations((-926, 580)):
            Rectangle(SKETCH_13_W, SKETCH_13_H)
        with Locations((-926, 720)):
            Rectangle(SKETCH_13_W, SKETCH_13_H)
    extrude(amount=CUT_EXTRUDE_7_DEPTH + CUT_EXTRUDE_7_DEPTH_BACK, mode=Mode.SUBTRACT)

    # Эскиз6 → Бобышка-Вытянуть2 (add)
    with BuildSketch(Plane(origin=(994, 0, 0), x_dir=(0, 0, -1), z_dir=(1, 0, 0))):
        with Locations((-13.225, 370)):
            Rectangle(SKETCH_6_W, SKETCH_6_H)
    extrude(amount=EXTRUDE_2_DEPTH)

    # Эскиз8 → Вырез-Вытянуть2 (cut, through all)
    with BuildSketch(Plane(origin=(998, 0, 0), x_dir=(0, 0, -1), z_dir=(1, 0, 0))):
        with Locations((-13.98, 145.25)):
            Rectangle(SKETCH_8_W, SKETCH_8_H)
        with Locations((-13.98, 162.25)):
            Rectangle(SKETCH_8_W, SKETCH_8_H)
        with Locations((-13.98, 577.75)):
            Rectangle(SKETCH_8_W, SKETCH_8_H)
        with Locations((-13.98, 594.75)):
            Rectangle(SKETCH_8_W, SKETCH_8_H)
    extrude(amount=-CUT_EXTRUDE_2_DEPTH, mode=Mode.SUBTRACT)

    # Эскиз14 → Вырез-Вытянуть8 (cut, through all)
    with BuildSketch(Plane(origin=(998, 0, 0), x_dir=(0, 0, -1), z_dir=(1, 0, 0))):
        with Locations((-14, 10)):
            Circle(SKETCH_14_R)
        with Locations((-14, 298)):
            Circle(SKETCH_14_R)
        with Locations((-14, 442)):
            Circle(SKETCH_14_R)
        with Locations((-14, 730)):
            Circle(SKETCH_14_R)
    extrude(amount=-CUT_EXTRUDE_8_DEPTH, mode=Mode.SUBTRACT)

    # Скругление1
    fillet_1_edges = [part.edges().sort_by_distance(p)[0] for p in [
        (994, 370, 4),
    ]]
    fillet(fillet_1_edges, radius=FILLET_1_R)

    # Скругление2
    fillet_2_edges = [part.edges().sort_by_distance(p)[0] for p in [
        (998, 370, 0),
    ]]
    fillet(fillet_2_edges, radius=FILLET_2_R)

    # Скругление4
    fillet_4_edges = [part.edges().sort_by_distance(p)[0] for p in [
        (689.6, 40.149590026, 2),
        (770.4, 70.5, 2),
        (770.4, 86.4, 2),
        (729.817747803, 86.4, 2),
        (689.6, 699.850409974, 2),
        (729.817747803, 653.6, 2),
        (770.4, 653.6, 2),
        (770.4, 669.5, 2),
    ]]
    fillet(fillet_4_edges, radius=FILLET_4_R)


solid = part.part
